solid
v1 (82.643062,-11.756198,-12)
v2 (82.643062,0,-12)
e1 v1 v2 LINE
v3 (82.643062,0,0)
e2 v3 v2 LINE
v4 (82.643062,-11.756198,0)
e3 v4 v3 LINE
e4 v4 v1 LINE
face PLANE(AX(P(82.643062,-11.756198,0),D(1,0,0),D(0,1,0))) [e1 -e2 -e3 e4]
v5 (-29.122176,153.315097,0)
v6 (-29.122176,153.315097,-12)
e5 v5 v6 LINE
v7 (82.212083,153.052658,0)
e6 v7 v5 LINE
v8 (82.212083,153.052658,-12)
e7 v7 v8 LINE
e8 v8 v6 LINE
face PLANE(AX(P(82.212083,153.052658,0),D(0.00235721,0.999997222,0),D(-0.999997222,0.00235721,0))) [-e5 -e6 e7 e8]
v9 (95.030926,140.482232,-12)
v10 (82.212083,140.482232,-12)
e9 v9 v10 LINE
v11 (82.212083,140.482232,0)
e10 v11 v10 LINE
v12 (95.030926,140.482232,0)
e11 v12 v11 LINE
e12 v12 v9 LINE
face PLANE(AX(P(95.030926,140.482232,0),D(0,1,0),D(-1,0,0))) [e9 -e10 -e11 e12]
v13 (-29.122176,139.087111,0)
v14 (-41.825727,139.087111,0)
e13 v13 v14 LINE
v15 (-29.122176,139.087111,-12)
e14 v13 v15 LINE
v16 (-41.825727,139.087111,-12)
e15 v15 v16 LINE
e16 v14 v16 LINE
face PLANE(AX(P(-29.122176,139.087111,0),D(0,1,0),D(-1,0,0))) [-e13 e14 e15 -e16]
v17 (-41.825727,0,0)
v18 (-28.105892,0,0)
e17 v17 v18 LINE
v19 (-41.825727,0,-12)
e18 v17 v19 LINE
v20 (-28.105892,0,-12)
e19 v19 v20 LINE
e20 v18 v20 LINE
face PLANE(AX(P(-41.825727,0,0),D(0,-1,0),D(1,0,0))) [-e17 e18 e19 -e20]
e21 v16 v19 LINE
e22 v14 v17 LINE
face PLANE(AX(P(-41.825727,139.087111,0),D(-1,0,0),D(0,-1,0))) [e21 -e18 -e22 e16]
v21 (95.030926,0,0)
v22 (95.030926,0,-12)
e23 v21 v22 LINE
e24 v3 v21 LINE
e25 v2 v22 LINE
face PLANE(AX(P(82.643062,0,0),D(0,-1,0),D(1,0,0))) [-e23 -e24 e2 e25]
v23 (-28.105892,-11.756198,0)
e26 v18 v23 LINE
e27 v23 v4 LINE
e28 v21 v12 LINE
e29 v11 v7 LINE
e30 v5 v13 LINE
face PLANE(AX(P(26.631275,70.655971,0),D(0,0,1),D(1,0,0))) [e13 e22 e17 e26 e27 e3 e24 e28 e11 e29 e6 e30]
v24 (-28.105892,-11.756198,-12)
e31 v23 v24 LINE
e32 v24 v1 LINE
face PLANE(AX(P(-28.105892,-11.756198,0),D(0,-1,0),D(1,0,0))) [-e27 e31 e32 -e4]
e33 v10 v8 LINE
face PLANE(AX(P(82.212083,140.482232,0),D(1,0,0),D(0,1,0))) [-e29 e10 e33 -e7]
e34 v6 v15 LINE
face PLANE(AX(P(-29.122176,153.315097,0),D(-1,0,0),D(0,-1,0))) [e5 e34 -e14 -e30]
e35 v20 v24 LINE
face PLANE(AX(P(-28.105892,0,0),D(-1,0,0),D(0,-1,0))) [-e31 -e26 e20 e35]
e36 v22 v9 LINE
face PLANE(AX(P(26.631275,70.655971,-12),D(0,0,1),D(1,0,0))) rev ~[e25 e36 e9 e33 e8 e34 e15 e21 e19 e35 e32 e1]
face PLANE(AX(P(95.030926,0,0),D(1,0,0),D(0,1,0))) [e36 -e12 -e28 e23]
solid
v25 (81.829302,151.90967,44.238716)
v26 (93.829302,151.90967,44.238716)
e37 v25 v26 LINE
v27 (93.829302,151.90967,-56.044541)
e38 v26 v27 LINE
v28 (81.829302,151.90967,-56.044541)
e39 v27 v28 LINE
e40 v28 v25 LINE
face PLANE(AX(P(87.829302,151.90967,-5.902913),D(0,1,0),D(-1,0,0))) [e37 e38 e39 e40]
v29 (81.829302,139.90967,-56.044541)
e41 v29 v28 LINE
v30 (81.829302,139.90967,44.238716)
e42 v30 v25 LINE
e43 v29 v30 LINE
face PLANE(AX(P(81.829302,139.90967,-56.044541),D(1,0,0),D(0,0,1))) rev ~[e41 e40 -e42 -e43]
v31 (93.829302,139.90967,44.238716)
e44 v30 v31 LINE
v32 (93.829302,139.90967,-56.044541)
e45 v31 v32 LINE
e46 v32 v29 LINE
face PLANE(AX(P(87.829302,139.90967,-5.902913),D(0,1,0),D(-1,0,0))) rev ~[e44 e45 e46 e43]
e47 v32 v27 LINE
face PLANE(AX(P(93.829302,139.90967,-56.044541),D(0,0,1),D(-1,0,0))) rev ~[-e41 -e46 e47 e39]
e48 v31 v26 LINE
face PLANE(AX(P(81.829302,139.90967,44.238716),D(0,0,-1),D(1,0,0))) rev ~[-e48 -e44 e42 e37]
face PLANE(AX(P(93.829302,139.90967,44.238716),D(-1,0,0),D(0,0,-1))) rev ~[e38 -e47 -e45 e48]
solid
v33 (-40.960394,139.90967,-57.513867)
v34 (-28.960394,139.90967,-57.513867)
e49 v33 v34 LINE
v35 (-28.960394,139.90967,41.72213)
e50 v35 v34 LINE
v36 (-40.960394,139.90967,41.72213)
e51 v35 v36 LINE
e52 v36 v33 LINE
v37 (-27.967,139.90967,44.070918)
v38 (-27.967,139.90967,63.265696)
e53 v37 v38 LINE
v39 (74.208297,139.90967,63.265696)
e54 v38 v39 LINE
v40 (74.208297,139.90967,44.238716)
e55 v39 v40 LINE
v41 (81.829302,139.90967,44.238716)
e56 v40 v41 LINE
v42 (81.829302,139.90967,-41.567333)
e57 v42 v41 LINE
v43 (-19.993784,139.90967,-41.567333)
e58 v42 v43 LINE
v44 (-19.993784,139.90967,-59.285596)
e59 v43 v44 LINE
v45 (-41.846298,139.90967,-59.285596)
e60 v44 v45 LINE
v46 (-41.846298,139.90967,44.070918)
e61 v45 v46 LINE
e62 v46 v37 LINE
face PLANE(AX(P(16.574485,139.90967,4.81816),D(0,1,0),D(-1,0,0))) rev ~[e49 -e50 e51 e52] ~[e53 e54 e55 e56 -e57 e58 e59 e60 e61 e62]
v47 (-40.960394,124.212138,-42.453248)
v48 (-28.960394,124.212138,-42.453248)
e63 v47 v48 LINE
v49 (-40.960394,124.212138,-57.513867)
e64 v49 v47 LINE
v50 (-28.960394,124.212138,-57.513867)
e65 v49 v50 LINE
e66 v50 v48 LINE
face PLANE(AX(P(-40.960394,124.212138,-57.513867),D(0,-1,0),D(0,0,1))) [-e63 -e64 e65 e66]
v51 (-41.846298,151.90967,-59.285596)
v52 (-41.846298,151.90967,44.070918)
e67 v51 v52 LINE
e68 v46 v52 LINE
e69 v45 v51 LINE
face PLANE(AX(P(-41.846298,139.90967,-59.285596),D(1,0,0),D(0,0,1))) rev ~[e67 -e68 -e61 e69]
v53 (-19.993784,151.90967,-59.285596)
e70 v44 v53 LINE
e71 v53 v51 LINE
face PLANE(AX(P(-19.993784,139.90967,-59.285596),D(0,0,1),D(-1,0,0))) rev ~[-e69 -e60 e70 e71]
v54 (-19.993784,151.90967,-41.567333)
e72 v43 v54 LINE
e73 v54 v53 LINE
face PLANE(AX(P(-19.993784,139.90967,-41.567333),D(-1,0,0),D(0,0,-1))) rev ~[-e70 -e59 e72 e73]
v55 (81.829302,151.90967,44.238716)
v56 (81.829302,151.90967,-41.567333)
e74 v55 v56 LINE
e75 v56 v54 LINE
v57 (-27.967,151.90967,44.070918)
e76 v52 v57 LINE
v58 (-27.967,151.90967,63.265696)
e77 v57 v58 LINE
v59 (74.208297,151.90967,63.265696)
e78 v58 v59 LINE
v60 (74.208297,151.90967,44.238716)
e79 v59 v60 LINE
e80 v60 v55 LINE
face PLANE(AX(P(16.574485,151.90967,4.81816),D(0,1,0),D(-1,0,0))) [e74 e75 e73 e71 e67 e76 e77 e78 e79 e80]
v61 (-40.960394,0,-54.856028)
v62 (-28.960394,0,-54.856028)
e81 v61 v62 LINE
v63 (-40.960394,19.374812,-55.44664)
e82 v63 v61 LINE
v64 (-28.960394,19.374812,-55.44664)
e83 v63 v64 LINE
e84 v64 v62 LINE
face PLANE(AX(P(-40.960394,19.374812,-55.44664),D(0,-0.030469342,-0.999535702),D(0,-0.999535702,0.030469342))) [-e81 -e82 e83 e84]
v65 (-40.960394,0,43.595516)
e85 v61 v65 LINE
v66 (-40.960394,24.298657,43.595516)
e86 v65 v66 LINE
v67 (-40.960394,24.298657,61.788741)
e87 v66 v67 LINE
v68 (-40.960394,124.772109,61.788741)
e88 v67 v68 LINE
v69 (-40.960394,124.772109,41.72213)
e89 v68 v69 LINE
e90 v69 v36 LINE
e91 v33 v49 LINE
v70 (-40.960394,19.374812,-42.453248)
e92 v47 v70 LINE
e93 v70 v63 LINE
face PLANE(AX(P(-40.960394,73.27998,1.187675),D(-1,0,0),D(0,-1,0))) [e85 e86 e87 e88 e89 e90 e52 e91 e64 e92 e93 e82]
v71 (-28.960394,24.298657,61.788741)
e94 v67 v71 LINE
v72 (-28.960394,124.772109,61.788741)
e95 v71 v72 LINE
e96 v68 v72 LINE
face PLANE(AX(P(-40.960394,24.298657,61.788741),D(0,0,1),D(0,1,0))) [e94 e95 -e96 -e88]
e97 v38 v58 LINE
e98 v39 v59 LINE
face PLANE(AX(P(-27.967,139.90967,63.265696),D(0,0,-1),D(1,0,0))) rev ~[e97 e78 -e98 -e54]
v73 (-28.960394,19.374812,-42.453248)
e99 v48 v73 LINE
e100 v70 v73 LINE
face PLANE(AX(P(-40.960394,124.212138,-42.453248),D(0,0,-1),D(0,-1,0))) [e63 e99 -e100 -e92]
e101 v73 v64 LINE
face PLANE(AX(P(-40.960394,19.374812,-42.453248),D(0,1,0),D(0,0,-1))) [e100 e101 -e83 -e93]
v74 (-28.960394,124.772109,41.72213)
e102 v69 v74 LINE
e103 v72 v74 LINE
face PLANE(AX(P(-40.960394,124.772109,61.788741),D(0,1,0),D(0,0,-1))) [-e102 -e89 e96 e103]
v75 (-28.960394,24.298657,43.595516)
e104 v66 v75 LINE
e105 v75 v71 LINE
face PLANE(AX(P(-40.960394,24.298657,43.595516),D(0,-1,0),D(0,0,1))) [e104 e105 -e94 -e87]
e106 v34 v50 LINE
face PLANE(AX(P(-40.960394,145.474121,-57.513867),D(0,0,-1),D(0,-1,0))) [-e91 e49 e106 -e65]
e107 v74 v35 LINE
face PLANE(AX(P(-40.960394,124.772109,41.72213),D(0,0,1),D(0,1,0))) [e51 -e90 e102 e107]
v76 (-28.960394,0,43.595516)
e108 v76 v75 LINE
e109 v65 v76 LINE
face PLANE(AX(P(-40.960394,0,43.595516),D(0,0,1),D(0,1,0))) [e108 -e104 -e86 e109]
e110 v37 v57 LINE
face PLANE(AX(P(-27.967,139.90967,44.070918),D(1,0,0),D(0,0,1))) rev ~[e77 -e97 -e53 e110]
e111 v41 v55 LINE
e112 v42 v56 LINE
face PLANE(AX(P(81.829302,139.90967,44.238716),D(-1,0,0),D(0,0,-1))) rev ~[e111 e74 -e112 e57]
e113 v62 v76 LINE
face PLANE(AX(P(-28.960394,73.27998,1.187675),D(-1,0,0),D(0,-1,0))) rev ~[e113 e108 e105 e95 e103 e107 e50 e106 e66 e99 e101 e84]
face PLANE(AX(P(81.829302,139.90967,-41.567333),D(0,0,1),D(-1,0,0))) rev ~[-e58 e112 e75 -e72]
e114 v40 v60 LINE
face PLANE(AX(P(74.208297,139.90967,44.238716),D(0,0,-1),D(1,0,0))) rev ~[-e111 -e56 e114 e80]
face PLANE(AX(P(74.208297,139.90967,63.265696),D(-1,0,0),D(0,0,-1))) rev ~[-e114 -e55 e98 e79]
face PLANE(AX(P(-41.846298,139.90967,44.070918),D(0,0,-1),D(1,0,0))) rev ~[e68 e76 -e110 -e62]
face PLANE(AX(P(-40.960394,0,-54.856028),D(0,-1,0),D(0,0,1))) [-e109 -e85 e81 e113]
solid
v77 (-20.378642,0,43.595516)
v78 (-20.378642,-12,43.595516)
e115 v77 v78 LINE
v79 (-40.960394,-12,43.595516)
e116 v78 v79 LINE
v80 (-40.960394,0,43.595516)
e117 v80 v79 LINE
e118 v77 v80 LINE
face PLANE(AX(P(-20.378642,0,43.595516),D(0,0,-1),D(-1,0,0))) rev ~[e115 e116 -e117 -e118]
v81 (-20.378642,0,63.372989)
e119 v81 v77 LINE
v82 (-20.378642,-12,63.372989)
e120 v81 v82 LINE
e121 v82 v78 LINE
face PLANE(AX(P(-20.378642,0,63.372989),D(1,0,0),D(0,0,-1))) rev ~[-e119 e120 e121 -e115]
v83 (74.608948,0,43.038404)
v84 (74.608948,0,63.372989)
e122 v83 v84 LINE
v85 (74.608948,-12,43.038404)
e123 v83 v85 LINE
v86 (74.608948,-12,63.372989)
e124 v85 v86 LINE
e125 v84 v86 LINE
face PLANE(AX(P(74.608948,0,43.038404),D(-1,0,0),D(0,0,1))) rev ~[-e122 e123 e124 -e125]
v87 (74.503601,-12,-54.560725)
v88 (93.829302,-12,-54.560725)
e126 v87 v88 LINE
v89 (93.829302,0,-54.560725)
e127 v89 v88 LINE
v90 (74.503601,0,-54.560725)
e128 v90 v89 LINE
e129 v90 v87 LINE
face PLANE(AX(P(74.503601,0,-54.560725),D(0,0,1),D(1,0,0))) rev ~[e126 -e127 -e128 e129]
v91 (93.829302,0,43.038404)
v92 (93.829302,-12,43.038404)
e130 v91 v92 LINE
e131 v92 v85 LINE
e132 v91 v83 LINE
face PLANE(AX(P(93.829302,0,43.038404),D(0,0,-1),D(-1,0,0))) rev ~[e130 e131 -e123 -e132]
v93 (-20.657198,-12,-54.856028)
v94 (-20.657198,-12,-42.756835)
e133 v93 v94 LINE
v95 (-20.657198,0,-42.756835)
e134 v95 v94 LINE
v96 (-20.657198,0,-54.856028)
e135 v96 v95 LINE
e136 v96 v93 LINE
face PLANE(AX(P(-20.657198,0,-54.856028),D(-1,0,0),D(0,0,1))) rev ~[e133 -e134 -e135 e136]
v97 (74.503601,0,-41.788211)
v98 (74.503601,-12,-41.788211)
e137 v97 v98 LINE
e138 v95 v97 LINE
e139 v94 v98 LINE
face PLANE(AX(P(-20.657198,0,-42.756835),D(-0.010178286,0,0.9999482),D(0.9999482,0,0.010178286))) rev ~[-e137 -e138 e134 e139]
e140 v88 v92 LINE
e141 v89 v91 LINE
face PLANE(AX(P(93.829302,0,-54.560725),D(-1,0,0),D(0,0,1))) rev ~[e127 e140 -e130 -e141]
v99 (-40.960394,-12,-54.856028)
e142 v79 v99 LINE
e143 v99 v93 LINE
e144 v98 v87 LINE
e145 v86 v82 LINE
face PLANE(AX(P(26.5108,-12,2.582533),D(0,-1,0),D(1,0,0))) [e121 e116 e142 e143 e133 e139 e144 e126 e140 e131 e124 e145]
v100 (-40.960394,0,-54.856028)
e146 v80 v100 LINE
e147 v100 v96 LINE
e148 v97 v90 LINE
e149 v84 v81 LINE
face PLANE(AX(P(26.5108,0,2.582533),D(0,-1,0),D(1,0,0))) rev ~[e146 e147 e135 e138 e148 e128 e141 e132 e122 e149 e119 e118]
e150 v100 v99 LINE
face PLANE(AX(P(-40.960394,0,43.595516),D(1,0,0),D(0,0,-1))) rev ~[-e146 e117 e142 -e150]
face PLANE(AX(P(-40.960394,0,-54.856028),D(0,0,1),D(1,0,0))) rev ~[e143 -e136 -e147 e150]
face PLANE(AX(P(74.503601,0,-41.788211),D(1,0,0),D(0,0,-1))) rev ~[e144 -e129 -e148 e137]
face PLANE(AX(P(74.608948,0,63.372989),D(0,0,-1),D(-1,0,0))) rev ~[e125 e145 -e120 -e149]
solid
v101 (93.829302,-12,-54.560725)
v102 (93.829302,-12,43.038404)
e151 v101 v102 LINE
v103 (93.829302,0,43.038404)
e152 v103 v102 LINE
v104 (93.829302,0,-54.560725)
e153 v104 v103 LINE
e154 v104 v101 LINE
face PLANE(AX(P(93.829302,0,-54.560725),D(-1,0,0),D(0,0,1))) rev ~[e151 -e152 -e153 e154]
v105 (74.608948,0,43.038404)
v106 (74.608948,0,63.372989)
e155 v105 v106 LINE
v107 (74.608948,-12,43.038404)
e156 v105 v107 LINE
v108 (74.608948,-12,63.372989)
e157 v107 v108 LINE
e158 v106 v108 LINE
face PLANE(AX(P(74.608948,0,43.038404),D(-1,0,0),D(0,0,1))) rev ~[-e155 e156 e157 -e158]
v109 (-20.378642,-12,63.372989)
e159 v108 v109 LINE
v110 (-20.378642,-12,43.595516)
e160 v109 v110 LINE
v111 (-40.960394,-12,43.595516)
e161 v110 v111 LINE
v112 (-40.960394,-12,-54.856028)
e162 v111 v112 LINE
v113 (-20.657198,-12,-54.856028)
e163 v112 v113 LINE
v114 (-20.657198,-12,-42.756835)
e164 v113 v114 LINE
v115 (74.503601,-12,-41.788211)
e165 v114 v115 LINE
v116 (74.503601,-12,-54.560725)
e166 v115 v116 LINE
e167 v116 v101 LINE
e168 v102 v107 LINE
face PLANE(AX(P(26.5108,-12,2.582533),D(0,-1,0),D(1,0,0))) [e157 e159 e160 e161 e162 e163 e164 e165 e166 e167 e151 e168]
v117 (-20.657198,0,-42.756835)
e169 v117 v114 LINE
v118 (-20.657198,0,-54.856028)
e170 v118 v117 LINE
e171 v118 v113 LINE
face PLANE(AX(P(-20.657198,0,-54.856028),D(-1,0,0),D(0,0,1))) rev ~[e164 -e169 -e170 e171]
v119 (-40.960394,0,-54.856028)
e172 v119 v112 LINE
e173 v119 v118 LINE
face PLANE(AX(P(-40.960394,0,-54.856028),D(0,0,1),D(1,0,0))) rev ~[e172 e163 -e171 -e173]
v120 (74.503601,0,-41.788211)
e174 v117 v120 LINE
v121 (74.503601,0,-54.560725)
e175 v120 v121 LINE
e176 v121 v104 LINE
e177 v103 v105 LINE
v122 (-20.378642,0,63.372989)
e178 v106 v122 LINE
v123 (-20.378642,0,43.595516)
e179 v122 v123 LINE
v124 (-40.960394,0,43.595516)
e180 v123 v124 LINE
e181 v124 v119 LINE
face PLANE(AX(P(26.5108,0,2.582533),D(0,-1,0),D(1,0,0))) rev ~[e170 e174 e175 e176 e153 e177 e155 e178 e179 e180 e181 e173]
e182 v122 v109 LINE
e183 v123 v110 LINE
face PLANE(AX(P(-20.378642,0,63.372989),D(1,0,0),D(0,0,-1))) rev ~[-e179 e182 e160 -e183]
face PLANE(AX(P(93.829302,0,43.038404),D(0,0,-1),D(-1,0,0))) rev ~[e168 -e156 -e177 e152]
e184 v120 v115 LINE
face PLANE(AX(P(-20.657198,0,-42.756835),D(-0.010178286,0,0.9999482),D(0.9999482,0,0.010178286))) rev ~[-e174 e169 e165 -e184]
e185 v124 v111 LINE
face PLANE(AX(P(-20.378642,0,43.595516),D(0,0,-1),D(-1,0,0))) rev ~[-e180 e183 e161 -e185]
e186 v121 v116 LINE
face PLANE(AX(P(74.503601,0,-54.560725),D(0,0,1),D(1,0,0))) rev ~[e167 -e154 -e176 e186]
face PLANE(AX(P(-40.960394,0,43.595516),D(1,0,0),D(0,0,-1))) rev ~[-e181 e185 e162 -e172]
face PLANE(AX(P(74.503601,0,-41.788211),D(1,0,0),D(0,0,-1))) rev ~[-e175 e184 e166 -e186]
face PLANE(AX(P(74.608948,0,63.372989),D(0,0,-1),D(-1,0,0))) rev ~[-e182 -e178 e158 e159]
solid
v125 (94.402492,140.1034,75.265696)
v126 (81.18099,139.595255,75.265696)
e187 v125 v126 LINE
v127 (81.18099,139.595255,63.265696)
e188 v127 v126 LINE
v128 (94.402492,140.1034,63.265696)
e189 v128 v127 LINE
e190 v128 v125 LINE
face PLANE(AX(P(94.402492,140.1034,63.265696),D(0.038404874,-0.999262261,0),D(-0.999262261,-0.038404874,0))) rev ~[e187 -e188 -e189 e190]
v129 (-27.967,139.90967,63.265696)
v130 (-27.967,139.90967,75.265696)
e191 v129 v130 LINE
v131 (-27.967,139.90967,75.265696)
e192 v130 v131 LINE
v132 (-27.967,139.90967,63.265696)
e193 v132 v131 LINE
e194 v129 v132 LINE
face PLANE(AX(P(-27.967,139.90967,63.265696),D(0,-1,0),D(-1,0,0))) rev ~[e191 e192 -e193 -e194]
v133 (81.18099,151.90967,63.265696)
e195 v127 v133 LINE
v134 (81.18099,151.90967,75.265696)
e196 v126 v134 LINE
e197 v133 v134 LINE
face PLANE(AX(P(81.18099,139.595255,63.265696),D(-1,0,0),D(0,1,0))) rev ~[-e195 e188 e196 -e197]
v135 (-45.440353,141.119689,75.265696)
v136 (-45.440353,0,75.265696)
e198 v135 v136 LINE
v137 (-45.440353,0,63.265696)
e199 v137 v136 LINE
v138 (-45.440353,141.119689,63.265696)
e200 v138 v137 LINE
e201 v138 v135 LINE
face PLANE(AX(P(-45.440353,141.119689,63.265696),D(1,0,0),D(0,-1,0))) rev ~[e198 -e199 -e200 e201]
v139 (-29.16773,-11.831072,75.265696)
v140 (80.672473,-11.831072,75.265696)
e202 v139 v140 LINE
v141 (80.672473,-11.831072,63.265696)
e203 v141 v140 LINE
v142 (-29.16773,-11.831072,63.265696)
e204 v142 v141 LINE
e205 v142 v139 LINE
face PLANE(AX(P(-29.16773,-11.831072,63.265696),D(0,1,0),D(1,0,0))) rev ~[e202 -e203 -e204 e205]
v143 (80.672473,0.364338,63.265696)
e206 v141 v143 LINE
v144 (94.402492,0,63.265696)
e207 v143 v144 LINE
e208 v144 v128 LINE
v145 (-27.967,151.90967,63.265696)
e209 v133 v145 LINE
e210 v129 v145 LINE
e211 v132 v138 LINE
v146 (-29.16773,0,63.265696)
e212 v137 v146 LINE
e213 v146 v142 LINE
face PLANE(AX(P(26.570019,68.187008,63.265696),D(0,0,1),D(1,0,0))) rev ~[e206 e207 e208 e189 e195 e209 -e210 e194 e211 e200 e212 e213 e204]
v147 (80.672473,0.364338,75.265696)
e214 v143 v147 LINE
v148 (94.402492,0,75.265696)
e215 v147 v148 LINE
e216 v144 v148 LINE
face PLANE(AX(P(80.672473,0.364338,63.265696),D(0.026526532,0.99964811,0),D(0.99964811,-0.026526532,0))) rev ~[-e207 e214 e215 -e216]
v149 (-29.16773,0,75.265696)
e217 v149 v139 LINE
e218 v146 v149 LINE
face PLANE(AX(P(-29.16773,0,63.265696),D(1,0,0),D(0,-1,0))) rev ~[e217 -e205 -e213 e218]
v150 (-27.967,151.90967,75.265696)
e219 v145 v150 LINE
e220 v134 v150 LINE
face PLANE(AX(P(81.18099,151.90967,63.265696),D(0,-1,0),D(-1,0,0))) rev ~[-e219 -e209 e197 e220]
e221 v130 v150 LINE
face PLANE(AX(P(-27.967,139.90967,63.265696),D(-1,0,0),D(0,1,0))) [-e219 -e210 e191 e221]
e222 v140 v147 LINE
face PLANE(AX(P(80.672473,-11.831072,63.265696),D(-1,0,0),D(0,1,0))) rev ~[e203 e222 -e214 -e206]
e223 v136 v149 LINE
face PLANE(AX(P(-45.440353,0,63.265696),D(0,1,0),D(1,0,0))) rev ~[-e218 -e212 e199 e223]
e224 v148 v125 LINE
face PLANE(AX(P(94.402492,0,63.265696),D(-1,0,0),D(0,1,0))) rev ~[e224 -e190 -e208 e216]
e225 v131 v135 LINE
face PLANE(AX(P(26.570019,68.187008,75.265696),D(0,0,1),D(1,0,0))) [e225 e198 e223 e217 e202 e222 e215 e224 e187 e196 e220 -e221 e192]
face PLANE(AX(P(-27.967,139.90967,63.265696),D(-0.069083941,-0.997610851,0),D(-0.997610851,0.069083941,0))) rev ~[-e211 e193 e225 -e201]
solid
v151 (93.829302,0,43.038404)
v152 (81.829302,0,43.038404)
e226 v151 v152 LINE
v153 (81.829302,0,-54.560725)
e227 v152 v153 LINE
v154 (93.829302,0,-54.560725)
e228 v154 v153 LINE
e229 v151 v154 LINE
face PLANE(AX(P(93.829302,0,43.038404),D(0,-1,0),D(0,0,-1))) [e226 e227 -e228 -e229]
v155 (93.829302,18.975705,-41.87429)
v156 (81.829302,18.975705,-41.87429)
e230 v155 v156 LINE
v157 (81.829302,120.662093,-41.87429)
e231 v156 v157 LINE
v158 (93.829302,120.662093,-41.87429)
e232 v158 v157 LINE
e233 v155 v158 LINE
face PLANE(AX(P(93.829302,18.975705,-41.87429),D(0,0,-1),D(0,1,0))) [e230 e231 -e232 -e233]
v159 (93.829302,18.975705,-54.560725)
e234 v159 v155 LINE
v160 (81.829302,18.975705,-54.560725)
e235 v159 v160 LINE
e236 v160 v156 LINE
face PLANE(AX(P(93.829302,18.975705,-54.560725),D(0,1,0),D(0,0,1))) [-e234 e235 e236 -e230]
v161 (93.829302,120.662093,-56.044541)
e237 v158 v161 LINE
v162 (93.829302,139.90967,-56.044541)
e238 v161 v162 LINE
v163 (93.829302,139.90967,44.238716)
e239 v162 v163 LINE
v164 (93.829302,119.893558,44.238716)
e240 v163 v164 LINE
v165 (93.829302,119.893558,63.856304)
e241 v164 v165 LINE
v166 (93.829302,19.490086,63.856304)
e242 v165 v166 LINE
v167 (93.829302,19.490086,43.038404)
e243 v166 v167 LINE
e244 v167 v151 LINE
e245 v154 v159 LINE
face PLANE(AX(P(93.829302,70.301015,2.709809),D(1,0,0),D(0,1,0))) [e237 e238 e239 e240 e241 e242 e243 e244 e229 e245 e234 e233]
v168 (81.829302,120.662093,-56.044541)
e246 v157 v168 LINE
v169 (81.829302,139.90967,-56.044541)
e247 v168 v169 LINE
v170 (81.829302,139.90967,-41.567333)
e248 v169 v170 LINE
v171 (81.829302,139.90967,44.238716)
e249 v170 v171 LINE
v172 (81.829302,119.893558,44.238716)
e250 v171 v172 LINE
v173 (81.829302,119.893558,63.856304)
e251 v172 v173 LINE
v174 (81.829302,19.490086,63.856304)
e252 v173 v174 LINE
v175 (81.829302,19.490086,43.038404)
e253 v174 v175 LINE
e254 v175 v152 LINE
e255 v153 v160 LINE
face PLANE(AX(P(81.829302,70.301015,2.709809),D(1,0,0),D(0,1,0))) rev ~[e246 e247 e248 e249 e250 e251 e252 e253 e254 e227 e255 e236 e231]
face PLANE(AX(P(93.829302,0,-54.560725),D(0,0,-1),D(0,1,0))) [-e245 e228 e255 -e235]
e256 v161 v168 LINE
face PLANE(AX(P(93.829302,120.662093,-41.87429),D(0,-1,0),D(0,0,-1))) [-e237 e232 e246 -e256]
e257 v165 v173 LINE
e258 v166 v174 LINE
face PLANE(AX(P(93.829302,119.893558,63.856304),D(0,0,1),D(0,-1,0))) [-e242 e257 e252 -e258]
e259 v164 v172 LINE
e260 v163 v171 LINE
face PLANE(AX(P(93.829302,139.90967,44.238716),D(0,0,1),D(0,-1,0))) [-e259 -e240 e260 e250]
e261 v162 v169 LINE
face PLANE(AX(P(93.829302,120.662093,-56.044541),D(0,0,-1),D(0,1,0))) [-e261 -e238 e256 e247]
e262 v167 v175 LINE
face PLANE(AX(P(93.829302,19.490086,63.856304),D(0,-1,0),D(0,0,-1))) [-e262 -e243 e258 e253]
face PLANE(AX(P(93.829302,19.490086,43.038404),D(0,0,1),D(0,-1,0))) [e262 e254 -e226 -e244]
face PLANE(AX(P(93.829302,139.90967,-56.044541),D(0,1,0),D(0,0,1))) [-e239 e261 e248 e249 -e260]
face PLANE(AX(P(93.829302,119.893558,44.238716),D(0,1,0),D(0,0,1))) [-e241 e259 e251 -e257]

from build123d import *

# Parameters (mm, degrees)
F1_DEPTH  = 12
F3_DEPTH  = 12
F5_DEPTH  = 12
F6_DEPTH  = 12
F8_DEPTH  = 12
F9_DEPTH  = 12
F11_DEPTH = 12
F12_W     = 102.175297
F12_H     = 12
F13_DEPTH = 12


with BuildPart() as f1:
    # F0 (on Front) → F1 (new body)
    with BuildSketch(Plane.XZ):
        Polygon((-40.960394, 43.595516), (-40.960394, -54.856028), (-20.657198, -54.856028), (-20.657198, -42.756835), (74.503601, -41.788211), (74.503601, -54.560725), (93.829302, -54.560725), (93.829302, 43.038404), (74.608948, 43.038404), (74.608948, 63.372989), (-20.378642, 63.372989), (-20.378642, 43.595516), align=None)
    extrude(amount=F1_DEPTH)


with BuildPart() as f3:
    # F2 (on face) → F3 (new body)
    with BuildSketch(Plane.YZ.offset(93.829302)):
        Polygon((19.490086, 43.038404), (0, 43.038404), (0, -54.560725), (18.975705, -54.560725), (18.975705, -41.87429), (120.662093, -41.87429), (120.662093, -56.044541), (139.90967, -56.044541), (139.90967, 44.238716), (119.893558, 44.238716), (119.893558, 63.856304), (19.490086, 63.856304), align=None)
    extrude(amount=-F3_DEPTH)



with BuildPart() as f5:
    # F4 (on face) → F5 (new body)
    with BuildSketch(Plane(origin=(-40.960394, 0, 0), x_dir=(0, -1, 0), z_dir=(-1, 0, 0))):
        Polygon((0, -54.856028), (0, 43.595516), (-24.298657, 43.595516), (-24.298657, 61.788741), (-124.772109, 61.788741), (-124.772109, 41.72213), (-145.474121, 41.72213), (-145.474121, -57.513867), (-124.212138, -57.513867), (-124.212138, -42.453248), (-19.374812, -42.453248), (-19.374812, -55.44664), align=None)
    extrude(amount=-F5_DEPTH)


with BuildPart() as f6:
    # F0 (on Front) → F6 (new body)
    with BuildSketch(Plane.XZ):
        Polygon((-40.960394, 43.595516), (-40.960394, -54.856028), (-20.657198, -54.856028), (-20.657198, -42.756835), (74.503601, -41.788211), (74.503601, -54.560725), (93.829302, -54.560725), (93.829302, 43.038404), (74.608948, 43.038404), (74.608948, 63.372989), (-20.378642, 63.372989), (-20.378642, 43.595516), align=None)
    extrude(amount=F6_DEPTH)


with BuildPart() as f3_1:
    add(f3.part)

    add(f5.part)  # F8 merges F5
    # F7 (on face) → F8 (join)
    with BuildSketch(Plane(origin=(0, 139.90967, 0), x_dir=(-1, 0, 0), z_dir=(0, 1, 0))):
        Polygon((-74.208297, 44.238716), (-81.829302, 44.238716), (-81.829302, -41.567333), (19.993784, -41.567333), (19.993784, -59.285596), (41.846298, -59.285596), (41.846298, 44.070918), (27.967, 44.070918), (27.967, 63.265696), (-74.208297, 63.265696), align=None)
    extrude(amount=F8_DEPTH)


with BuildPart() as f9:
    # F7 (on face) → F9 (new body)
    with BuildSketch(Plane(origin=(0, 139.90967, 0), x_dir=(-1, 0, 0), z_dir=(0, 1, 0))):
        Polygon((-81.829302, 44.238716), (-93.829302, 44.238716), (-93.829302, -56.044541), (-81.829302, -56.044541), (-81.829302, -41.567333), align=None)
    extrude(amount=F9_DEPTH)


with BuildPart() as f11:
    # F10 (on Top) → F11 (new body)
    with BuildSketch(Plane.XY):
        Polygon((82.212083, 153.052658), (-29.122176, 153.315097), (-29.122176, 139.087111), (-41.825727, 139.087111), (-41.825727, 0), (-28.105892, 0), (-28.105892, -11.756198), (82.643062, -11.756198), (82.643062, 0), (95.030926, 0), (95.030926, 140.482232), (82.212083, 140.482232), align=None)
    extrude(amount=-F11_DEPTH)


with BuildPart() as f13:
    # F12 (on face) → F13 (new body)
    with BuildSketch(Plane.XY.offset(63.265696)):
        Polygon((74.208297, 139.90967), (-27.967, 139.90967), (-45.440353, 141.119689), (-45.440353, 0), (-29.16773, 0), (-29.16773, -11.831072), (80.672473, -11.831072), (80.672473, 0.364338), (94.402492, 0), (94.402492, 140.1034), (81.18099, 139.595255), (81.18099, 151.90967), (74.208297, 151.90967), align=None)
        with Locations((23.120649, 145.90967)):
            Rectangle(F12_W, F12_H)
    extrude(amount=F13_DEPTH)


solid = Compound([f1.part, f6.part, f3_1.part, f9.part, f11.part, f13.part])
